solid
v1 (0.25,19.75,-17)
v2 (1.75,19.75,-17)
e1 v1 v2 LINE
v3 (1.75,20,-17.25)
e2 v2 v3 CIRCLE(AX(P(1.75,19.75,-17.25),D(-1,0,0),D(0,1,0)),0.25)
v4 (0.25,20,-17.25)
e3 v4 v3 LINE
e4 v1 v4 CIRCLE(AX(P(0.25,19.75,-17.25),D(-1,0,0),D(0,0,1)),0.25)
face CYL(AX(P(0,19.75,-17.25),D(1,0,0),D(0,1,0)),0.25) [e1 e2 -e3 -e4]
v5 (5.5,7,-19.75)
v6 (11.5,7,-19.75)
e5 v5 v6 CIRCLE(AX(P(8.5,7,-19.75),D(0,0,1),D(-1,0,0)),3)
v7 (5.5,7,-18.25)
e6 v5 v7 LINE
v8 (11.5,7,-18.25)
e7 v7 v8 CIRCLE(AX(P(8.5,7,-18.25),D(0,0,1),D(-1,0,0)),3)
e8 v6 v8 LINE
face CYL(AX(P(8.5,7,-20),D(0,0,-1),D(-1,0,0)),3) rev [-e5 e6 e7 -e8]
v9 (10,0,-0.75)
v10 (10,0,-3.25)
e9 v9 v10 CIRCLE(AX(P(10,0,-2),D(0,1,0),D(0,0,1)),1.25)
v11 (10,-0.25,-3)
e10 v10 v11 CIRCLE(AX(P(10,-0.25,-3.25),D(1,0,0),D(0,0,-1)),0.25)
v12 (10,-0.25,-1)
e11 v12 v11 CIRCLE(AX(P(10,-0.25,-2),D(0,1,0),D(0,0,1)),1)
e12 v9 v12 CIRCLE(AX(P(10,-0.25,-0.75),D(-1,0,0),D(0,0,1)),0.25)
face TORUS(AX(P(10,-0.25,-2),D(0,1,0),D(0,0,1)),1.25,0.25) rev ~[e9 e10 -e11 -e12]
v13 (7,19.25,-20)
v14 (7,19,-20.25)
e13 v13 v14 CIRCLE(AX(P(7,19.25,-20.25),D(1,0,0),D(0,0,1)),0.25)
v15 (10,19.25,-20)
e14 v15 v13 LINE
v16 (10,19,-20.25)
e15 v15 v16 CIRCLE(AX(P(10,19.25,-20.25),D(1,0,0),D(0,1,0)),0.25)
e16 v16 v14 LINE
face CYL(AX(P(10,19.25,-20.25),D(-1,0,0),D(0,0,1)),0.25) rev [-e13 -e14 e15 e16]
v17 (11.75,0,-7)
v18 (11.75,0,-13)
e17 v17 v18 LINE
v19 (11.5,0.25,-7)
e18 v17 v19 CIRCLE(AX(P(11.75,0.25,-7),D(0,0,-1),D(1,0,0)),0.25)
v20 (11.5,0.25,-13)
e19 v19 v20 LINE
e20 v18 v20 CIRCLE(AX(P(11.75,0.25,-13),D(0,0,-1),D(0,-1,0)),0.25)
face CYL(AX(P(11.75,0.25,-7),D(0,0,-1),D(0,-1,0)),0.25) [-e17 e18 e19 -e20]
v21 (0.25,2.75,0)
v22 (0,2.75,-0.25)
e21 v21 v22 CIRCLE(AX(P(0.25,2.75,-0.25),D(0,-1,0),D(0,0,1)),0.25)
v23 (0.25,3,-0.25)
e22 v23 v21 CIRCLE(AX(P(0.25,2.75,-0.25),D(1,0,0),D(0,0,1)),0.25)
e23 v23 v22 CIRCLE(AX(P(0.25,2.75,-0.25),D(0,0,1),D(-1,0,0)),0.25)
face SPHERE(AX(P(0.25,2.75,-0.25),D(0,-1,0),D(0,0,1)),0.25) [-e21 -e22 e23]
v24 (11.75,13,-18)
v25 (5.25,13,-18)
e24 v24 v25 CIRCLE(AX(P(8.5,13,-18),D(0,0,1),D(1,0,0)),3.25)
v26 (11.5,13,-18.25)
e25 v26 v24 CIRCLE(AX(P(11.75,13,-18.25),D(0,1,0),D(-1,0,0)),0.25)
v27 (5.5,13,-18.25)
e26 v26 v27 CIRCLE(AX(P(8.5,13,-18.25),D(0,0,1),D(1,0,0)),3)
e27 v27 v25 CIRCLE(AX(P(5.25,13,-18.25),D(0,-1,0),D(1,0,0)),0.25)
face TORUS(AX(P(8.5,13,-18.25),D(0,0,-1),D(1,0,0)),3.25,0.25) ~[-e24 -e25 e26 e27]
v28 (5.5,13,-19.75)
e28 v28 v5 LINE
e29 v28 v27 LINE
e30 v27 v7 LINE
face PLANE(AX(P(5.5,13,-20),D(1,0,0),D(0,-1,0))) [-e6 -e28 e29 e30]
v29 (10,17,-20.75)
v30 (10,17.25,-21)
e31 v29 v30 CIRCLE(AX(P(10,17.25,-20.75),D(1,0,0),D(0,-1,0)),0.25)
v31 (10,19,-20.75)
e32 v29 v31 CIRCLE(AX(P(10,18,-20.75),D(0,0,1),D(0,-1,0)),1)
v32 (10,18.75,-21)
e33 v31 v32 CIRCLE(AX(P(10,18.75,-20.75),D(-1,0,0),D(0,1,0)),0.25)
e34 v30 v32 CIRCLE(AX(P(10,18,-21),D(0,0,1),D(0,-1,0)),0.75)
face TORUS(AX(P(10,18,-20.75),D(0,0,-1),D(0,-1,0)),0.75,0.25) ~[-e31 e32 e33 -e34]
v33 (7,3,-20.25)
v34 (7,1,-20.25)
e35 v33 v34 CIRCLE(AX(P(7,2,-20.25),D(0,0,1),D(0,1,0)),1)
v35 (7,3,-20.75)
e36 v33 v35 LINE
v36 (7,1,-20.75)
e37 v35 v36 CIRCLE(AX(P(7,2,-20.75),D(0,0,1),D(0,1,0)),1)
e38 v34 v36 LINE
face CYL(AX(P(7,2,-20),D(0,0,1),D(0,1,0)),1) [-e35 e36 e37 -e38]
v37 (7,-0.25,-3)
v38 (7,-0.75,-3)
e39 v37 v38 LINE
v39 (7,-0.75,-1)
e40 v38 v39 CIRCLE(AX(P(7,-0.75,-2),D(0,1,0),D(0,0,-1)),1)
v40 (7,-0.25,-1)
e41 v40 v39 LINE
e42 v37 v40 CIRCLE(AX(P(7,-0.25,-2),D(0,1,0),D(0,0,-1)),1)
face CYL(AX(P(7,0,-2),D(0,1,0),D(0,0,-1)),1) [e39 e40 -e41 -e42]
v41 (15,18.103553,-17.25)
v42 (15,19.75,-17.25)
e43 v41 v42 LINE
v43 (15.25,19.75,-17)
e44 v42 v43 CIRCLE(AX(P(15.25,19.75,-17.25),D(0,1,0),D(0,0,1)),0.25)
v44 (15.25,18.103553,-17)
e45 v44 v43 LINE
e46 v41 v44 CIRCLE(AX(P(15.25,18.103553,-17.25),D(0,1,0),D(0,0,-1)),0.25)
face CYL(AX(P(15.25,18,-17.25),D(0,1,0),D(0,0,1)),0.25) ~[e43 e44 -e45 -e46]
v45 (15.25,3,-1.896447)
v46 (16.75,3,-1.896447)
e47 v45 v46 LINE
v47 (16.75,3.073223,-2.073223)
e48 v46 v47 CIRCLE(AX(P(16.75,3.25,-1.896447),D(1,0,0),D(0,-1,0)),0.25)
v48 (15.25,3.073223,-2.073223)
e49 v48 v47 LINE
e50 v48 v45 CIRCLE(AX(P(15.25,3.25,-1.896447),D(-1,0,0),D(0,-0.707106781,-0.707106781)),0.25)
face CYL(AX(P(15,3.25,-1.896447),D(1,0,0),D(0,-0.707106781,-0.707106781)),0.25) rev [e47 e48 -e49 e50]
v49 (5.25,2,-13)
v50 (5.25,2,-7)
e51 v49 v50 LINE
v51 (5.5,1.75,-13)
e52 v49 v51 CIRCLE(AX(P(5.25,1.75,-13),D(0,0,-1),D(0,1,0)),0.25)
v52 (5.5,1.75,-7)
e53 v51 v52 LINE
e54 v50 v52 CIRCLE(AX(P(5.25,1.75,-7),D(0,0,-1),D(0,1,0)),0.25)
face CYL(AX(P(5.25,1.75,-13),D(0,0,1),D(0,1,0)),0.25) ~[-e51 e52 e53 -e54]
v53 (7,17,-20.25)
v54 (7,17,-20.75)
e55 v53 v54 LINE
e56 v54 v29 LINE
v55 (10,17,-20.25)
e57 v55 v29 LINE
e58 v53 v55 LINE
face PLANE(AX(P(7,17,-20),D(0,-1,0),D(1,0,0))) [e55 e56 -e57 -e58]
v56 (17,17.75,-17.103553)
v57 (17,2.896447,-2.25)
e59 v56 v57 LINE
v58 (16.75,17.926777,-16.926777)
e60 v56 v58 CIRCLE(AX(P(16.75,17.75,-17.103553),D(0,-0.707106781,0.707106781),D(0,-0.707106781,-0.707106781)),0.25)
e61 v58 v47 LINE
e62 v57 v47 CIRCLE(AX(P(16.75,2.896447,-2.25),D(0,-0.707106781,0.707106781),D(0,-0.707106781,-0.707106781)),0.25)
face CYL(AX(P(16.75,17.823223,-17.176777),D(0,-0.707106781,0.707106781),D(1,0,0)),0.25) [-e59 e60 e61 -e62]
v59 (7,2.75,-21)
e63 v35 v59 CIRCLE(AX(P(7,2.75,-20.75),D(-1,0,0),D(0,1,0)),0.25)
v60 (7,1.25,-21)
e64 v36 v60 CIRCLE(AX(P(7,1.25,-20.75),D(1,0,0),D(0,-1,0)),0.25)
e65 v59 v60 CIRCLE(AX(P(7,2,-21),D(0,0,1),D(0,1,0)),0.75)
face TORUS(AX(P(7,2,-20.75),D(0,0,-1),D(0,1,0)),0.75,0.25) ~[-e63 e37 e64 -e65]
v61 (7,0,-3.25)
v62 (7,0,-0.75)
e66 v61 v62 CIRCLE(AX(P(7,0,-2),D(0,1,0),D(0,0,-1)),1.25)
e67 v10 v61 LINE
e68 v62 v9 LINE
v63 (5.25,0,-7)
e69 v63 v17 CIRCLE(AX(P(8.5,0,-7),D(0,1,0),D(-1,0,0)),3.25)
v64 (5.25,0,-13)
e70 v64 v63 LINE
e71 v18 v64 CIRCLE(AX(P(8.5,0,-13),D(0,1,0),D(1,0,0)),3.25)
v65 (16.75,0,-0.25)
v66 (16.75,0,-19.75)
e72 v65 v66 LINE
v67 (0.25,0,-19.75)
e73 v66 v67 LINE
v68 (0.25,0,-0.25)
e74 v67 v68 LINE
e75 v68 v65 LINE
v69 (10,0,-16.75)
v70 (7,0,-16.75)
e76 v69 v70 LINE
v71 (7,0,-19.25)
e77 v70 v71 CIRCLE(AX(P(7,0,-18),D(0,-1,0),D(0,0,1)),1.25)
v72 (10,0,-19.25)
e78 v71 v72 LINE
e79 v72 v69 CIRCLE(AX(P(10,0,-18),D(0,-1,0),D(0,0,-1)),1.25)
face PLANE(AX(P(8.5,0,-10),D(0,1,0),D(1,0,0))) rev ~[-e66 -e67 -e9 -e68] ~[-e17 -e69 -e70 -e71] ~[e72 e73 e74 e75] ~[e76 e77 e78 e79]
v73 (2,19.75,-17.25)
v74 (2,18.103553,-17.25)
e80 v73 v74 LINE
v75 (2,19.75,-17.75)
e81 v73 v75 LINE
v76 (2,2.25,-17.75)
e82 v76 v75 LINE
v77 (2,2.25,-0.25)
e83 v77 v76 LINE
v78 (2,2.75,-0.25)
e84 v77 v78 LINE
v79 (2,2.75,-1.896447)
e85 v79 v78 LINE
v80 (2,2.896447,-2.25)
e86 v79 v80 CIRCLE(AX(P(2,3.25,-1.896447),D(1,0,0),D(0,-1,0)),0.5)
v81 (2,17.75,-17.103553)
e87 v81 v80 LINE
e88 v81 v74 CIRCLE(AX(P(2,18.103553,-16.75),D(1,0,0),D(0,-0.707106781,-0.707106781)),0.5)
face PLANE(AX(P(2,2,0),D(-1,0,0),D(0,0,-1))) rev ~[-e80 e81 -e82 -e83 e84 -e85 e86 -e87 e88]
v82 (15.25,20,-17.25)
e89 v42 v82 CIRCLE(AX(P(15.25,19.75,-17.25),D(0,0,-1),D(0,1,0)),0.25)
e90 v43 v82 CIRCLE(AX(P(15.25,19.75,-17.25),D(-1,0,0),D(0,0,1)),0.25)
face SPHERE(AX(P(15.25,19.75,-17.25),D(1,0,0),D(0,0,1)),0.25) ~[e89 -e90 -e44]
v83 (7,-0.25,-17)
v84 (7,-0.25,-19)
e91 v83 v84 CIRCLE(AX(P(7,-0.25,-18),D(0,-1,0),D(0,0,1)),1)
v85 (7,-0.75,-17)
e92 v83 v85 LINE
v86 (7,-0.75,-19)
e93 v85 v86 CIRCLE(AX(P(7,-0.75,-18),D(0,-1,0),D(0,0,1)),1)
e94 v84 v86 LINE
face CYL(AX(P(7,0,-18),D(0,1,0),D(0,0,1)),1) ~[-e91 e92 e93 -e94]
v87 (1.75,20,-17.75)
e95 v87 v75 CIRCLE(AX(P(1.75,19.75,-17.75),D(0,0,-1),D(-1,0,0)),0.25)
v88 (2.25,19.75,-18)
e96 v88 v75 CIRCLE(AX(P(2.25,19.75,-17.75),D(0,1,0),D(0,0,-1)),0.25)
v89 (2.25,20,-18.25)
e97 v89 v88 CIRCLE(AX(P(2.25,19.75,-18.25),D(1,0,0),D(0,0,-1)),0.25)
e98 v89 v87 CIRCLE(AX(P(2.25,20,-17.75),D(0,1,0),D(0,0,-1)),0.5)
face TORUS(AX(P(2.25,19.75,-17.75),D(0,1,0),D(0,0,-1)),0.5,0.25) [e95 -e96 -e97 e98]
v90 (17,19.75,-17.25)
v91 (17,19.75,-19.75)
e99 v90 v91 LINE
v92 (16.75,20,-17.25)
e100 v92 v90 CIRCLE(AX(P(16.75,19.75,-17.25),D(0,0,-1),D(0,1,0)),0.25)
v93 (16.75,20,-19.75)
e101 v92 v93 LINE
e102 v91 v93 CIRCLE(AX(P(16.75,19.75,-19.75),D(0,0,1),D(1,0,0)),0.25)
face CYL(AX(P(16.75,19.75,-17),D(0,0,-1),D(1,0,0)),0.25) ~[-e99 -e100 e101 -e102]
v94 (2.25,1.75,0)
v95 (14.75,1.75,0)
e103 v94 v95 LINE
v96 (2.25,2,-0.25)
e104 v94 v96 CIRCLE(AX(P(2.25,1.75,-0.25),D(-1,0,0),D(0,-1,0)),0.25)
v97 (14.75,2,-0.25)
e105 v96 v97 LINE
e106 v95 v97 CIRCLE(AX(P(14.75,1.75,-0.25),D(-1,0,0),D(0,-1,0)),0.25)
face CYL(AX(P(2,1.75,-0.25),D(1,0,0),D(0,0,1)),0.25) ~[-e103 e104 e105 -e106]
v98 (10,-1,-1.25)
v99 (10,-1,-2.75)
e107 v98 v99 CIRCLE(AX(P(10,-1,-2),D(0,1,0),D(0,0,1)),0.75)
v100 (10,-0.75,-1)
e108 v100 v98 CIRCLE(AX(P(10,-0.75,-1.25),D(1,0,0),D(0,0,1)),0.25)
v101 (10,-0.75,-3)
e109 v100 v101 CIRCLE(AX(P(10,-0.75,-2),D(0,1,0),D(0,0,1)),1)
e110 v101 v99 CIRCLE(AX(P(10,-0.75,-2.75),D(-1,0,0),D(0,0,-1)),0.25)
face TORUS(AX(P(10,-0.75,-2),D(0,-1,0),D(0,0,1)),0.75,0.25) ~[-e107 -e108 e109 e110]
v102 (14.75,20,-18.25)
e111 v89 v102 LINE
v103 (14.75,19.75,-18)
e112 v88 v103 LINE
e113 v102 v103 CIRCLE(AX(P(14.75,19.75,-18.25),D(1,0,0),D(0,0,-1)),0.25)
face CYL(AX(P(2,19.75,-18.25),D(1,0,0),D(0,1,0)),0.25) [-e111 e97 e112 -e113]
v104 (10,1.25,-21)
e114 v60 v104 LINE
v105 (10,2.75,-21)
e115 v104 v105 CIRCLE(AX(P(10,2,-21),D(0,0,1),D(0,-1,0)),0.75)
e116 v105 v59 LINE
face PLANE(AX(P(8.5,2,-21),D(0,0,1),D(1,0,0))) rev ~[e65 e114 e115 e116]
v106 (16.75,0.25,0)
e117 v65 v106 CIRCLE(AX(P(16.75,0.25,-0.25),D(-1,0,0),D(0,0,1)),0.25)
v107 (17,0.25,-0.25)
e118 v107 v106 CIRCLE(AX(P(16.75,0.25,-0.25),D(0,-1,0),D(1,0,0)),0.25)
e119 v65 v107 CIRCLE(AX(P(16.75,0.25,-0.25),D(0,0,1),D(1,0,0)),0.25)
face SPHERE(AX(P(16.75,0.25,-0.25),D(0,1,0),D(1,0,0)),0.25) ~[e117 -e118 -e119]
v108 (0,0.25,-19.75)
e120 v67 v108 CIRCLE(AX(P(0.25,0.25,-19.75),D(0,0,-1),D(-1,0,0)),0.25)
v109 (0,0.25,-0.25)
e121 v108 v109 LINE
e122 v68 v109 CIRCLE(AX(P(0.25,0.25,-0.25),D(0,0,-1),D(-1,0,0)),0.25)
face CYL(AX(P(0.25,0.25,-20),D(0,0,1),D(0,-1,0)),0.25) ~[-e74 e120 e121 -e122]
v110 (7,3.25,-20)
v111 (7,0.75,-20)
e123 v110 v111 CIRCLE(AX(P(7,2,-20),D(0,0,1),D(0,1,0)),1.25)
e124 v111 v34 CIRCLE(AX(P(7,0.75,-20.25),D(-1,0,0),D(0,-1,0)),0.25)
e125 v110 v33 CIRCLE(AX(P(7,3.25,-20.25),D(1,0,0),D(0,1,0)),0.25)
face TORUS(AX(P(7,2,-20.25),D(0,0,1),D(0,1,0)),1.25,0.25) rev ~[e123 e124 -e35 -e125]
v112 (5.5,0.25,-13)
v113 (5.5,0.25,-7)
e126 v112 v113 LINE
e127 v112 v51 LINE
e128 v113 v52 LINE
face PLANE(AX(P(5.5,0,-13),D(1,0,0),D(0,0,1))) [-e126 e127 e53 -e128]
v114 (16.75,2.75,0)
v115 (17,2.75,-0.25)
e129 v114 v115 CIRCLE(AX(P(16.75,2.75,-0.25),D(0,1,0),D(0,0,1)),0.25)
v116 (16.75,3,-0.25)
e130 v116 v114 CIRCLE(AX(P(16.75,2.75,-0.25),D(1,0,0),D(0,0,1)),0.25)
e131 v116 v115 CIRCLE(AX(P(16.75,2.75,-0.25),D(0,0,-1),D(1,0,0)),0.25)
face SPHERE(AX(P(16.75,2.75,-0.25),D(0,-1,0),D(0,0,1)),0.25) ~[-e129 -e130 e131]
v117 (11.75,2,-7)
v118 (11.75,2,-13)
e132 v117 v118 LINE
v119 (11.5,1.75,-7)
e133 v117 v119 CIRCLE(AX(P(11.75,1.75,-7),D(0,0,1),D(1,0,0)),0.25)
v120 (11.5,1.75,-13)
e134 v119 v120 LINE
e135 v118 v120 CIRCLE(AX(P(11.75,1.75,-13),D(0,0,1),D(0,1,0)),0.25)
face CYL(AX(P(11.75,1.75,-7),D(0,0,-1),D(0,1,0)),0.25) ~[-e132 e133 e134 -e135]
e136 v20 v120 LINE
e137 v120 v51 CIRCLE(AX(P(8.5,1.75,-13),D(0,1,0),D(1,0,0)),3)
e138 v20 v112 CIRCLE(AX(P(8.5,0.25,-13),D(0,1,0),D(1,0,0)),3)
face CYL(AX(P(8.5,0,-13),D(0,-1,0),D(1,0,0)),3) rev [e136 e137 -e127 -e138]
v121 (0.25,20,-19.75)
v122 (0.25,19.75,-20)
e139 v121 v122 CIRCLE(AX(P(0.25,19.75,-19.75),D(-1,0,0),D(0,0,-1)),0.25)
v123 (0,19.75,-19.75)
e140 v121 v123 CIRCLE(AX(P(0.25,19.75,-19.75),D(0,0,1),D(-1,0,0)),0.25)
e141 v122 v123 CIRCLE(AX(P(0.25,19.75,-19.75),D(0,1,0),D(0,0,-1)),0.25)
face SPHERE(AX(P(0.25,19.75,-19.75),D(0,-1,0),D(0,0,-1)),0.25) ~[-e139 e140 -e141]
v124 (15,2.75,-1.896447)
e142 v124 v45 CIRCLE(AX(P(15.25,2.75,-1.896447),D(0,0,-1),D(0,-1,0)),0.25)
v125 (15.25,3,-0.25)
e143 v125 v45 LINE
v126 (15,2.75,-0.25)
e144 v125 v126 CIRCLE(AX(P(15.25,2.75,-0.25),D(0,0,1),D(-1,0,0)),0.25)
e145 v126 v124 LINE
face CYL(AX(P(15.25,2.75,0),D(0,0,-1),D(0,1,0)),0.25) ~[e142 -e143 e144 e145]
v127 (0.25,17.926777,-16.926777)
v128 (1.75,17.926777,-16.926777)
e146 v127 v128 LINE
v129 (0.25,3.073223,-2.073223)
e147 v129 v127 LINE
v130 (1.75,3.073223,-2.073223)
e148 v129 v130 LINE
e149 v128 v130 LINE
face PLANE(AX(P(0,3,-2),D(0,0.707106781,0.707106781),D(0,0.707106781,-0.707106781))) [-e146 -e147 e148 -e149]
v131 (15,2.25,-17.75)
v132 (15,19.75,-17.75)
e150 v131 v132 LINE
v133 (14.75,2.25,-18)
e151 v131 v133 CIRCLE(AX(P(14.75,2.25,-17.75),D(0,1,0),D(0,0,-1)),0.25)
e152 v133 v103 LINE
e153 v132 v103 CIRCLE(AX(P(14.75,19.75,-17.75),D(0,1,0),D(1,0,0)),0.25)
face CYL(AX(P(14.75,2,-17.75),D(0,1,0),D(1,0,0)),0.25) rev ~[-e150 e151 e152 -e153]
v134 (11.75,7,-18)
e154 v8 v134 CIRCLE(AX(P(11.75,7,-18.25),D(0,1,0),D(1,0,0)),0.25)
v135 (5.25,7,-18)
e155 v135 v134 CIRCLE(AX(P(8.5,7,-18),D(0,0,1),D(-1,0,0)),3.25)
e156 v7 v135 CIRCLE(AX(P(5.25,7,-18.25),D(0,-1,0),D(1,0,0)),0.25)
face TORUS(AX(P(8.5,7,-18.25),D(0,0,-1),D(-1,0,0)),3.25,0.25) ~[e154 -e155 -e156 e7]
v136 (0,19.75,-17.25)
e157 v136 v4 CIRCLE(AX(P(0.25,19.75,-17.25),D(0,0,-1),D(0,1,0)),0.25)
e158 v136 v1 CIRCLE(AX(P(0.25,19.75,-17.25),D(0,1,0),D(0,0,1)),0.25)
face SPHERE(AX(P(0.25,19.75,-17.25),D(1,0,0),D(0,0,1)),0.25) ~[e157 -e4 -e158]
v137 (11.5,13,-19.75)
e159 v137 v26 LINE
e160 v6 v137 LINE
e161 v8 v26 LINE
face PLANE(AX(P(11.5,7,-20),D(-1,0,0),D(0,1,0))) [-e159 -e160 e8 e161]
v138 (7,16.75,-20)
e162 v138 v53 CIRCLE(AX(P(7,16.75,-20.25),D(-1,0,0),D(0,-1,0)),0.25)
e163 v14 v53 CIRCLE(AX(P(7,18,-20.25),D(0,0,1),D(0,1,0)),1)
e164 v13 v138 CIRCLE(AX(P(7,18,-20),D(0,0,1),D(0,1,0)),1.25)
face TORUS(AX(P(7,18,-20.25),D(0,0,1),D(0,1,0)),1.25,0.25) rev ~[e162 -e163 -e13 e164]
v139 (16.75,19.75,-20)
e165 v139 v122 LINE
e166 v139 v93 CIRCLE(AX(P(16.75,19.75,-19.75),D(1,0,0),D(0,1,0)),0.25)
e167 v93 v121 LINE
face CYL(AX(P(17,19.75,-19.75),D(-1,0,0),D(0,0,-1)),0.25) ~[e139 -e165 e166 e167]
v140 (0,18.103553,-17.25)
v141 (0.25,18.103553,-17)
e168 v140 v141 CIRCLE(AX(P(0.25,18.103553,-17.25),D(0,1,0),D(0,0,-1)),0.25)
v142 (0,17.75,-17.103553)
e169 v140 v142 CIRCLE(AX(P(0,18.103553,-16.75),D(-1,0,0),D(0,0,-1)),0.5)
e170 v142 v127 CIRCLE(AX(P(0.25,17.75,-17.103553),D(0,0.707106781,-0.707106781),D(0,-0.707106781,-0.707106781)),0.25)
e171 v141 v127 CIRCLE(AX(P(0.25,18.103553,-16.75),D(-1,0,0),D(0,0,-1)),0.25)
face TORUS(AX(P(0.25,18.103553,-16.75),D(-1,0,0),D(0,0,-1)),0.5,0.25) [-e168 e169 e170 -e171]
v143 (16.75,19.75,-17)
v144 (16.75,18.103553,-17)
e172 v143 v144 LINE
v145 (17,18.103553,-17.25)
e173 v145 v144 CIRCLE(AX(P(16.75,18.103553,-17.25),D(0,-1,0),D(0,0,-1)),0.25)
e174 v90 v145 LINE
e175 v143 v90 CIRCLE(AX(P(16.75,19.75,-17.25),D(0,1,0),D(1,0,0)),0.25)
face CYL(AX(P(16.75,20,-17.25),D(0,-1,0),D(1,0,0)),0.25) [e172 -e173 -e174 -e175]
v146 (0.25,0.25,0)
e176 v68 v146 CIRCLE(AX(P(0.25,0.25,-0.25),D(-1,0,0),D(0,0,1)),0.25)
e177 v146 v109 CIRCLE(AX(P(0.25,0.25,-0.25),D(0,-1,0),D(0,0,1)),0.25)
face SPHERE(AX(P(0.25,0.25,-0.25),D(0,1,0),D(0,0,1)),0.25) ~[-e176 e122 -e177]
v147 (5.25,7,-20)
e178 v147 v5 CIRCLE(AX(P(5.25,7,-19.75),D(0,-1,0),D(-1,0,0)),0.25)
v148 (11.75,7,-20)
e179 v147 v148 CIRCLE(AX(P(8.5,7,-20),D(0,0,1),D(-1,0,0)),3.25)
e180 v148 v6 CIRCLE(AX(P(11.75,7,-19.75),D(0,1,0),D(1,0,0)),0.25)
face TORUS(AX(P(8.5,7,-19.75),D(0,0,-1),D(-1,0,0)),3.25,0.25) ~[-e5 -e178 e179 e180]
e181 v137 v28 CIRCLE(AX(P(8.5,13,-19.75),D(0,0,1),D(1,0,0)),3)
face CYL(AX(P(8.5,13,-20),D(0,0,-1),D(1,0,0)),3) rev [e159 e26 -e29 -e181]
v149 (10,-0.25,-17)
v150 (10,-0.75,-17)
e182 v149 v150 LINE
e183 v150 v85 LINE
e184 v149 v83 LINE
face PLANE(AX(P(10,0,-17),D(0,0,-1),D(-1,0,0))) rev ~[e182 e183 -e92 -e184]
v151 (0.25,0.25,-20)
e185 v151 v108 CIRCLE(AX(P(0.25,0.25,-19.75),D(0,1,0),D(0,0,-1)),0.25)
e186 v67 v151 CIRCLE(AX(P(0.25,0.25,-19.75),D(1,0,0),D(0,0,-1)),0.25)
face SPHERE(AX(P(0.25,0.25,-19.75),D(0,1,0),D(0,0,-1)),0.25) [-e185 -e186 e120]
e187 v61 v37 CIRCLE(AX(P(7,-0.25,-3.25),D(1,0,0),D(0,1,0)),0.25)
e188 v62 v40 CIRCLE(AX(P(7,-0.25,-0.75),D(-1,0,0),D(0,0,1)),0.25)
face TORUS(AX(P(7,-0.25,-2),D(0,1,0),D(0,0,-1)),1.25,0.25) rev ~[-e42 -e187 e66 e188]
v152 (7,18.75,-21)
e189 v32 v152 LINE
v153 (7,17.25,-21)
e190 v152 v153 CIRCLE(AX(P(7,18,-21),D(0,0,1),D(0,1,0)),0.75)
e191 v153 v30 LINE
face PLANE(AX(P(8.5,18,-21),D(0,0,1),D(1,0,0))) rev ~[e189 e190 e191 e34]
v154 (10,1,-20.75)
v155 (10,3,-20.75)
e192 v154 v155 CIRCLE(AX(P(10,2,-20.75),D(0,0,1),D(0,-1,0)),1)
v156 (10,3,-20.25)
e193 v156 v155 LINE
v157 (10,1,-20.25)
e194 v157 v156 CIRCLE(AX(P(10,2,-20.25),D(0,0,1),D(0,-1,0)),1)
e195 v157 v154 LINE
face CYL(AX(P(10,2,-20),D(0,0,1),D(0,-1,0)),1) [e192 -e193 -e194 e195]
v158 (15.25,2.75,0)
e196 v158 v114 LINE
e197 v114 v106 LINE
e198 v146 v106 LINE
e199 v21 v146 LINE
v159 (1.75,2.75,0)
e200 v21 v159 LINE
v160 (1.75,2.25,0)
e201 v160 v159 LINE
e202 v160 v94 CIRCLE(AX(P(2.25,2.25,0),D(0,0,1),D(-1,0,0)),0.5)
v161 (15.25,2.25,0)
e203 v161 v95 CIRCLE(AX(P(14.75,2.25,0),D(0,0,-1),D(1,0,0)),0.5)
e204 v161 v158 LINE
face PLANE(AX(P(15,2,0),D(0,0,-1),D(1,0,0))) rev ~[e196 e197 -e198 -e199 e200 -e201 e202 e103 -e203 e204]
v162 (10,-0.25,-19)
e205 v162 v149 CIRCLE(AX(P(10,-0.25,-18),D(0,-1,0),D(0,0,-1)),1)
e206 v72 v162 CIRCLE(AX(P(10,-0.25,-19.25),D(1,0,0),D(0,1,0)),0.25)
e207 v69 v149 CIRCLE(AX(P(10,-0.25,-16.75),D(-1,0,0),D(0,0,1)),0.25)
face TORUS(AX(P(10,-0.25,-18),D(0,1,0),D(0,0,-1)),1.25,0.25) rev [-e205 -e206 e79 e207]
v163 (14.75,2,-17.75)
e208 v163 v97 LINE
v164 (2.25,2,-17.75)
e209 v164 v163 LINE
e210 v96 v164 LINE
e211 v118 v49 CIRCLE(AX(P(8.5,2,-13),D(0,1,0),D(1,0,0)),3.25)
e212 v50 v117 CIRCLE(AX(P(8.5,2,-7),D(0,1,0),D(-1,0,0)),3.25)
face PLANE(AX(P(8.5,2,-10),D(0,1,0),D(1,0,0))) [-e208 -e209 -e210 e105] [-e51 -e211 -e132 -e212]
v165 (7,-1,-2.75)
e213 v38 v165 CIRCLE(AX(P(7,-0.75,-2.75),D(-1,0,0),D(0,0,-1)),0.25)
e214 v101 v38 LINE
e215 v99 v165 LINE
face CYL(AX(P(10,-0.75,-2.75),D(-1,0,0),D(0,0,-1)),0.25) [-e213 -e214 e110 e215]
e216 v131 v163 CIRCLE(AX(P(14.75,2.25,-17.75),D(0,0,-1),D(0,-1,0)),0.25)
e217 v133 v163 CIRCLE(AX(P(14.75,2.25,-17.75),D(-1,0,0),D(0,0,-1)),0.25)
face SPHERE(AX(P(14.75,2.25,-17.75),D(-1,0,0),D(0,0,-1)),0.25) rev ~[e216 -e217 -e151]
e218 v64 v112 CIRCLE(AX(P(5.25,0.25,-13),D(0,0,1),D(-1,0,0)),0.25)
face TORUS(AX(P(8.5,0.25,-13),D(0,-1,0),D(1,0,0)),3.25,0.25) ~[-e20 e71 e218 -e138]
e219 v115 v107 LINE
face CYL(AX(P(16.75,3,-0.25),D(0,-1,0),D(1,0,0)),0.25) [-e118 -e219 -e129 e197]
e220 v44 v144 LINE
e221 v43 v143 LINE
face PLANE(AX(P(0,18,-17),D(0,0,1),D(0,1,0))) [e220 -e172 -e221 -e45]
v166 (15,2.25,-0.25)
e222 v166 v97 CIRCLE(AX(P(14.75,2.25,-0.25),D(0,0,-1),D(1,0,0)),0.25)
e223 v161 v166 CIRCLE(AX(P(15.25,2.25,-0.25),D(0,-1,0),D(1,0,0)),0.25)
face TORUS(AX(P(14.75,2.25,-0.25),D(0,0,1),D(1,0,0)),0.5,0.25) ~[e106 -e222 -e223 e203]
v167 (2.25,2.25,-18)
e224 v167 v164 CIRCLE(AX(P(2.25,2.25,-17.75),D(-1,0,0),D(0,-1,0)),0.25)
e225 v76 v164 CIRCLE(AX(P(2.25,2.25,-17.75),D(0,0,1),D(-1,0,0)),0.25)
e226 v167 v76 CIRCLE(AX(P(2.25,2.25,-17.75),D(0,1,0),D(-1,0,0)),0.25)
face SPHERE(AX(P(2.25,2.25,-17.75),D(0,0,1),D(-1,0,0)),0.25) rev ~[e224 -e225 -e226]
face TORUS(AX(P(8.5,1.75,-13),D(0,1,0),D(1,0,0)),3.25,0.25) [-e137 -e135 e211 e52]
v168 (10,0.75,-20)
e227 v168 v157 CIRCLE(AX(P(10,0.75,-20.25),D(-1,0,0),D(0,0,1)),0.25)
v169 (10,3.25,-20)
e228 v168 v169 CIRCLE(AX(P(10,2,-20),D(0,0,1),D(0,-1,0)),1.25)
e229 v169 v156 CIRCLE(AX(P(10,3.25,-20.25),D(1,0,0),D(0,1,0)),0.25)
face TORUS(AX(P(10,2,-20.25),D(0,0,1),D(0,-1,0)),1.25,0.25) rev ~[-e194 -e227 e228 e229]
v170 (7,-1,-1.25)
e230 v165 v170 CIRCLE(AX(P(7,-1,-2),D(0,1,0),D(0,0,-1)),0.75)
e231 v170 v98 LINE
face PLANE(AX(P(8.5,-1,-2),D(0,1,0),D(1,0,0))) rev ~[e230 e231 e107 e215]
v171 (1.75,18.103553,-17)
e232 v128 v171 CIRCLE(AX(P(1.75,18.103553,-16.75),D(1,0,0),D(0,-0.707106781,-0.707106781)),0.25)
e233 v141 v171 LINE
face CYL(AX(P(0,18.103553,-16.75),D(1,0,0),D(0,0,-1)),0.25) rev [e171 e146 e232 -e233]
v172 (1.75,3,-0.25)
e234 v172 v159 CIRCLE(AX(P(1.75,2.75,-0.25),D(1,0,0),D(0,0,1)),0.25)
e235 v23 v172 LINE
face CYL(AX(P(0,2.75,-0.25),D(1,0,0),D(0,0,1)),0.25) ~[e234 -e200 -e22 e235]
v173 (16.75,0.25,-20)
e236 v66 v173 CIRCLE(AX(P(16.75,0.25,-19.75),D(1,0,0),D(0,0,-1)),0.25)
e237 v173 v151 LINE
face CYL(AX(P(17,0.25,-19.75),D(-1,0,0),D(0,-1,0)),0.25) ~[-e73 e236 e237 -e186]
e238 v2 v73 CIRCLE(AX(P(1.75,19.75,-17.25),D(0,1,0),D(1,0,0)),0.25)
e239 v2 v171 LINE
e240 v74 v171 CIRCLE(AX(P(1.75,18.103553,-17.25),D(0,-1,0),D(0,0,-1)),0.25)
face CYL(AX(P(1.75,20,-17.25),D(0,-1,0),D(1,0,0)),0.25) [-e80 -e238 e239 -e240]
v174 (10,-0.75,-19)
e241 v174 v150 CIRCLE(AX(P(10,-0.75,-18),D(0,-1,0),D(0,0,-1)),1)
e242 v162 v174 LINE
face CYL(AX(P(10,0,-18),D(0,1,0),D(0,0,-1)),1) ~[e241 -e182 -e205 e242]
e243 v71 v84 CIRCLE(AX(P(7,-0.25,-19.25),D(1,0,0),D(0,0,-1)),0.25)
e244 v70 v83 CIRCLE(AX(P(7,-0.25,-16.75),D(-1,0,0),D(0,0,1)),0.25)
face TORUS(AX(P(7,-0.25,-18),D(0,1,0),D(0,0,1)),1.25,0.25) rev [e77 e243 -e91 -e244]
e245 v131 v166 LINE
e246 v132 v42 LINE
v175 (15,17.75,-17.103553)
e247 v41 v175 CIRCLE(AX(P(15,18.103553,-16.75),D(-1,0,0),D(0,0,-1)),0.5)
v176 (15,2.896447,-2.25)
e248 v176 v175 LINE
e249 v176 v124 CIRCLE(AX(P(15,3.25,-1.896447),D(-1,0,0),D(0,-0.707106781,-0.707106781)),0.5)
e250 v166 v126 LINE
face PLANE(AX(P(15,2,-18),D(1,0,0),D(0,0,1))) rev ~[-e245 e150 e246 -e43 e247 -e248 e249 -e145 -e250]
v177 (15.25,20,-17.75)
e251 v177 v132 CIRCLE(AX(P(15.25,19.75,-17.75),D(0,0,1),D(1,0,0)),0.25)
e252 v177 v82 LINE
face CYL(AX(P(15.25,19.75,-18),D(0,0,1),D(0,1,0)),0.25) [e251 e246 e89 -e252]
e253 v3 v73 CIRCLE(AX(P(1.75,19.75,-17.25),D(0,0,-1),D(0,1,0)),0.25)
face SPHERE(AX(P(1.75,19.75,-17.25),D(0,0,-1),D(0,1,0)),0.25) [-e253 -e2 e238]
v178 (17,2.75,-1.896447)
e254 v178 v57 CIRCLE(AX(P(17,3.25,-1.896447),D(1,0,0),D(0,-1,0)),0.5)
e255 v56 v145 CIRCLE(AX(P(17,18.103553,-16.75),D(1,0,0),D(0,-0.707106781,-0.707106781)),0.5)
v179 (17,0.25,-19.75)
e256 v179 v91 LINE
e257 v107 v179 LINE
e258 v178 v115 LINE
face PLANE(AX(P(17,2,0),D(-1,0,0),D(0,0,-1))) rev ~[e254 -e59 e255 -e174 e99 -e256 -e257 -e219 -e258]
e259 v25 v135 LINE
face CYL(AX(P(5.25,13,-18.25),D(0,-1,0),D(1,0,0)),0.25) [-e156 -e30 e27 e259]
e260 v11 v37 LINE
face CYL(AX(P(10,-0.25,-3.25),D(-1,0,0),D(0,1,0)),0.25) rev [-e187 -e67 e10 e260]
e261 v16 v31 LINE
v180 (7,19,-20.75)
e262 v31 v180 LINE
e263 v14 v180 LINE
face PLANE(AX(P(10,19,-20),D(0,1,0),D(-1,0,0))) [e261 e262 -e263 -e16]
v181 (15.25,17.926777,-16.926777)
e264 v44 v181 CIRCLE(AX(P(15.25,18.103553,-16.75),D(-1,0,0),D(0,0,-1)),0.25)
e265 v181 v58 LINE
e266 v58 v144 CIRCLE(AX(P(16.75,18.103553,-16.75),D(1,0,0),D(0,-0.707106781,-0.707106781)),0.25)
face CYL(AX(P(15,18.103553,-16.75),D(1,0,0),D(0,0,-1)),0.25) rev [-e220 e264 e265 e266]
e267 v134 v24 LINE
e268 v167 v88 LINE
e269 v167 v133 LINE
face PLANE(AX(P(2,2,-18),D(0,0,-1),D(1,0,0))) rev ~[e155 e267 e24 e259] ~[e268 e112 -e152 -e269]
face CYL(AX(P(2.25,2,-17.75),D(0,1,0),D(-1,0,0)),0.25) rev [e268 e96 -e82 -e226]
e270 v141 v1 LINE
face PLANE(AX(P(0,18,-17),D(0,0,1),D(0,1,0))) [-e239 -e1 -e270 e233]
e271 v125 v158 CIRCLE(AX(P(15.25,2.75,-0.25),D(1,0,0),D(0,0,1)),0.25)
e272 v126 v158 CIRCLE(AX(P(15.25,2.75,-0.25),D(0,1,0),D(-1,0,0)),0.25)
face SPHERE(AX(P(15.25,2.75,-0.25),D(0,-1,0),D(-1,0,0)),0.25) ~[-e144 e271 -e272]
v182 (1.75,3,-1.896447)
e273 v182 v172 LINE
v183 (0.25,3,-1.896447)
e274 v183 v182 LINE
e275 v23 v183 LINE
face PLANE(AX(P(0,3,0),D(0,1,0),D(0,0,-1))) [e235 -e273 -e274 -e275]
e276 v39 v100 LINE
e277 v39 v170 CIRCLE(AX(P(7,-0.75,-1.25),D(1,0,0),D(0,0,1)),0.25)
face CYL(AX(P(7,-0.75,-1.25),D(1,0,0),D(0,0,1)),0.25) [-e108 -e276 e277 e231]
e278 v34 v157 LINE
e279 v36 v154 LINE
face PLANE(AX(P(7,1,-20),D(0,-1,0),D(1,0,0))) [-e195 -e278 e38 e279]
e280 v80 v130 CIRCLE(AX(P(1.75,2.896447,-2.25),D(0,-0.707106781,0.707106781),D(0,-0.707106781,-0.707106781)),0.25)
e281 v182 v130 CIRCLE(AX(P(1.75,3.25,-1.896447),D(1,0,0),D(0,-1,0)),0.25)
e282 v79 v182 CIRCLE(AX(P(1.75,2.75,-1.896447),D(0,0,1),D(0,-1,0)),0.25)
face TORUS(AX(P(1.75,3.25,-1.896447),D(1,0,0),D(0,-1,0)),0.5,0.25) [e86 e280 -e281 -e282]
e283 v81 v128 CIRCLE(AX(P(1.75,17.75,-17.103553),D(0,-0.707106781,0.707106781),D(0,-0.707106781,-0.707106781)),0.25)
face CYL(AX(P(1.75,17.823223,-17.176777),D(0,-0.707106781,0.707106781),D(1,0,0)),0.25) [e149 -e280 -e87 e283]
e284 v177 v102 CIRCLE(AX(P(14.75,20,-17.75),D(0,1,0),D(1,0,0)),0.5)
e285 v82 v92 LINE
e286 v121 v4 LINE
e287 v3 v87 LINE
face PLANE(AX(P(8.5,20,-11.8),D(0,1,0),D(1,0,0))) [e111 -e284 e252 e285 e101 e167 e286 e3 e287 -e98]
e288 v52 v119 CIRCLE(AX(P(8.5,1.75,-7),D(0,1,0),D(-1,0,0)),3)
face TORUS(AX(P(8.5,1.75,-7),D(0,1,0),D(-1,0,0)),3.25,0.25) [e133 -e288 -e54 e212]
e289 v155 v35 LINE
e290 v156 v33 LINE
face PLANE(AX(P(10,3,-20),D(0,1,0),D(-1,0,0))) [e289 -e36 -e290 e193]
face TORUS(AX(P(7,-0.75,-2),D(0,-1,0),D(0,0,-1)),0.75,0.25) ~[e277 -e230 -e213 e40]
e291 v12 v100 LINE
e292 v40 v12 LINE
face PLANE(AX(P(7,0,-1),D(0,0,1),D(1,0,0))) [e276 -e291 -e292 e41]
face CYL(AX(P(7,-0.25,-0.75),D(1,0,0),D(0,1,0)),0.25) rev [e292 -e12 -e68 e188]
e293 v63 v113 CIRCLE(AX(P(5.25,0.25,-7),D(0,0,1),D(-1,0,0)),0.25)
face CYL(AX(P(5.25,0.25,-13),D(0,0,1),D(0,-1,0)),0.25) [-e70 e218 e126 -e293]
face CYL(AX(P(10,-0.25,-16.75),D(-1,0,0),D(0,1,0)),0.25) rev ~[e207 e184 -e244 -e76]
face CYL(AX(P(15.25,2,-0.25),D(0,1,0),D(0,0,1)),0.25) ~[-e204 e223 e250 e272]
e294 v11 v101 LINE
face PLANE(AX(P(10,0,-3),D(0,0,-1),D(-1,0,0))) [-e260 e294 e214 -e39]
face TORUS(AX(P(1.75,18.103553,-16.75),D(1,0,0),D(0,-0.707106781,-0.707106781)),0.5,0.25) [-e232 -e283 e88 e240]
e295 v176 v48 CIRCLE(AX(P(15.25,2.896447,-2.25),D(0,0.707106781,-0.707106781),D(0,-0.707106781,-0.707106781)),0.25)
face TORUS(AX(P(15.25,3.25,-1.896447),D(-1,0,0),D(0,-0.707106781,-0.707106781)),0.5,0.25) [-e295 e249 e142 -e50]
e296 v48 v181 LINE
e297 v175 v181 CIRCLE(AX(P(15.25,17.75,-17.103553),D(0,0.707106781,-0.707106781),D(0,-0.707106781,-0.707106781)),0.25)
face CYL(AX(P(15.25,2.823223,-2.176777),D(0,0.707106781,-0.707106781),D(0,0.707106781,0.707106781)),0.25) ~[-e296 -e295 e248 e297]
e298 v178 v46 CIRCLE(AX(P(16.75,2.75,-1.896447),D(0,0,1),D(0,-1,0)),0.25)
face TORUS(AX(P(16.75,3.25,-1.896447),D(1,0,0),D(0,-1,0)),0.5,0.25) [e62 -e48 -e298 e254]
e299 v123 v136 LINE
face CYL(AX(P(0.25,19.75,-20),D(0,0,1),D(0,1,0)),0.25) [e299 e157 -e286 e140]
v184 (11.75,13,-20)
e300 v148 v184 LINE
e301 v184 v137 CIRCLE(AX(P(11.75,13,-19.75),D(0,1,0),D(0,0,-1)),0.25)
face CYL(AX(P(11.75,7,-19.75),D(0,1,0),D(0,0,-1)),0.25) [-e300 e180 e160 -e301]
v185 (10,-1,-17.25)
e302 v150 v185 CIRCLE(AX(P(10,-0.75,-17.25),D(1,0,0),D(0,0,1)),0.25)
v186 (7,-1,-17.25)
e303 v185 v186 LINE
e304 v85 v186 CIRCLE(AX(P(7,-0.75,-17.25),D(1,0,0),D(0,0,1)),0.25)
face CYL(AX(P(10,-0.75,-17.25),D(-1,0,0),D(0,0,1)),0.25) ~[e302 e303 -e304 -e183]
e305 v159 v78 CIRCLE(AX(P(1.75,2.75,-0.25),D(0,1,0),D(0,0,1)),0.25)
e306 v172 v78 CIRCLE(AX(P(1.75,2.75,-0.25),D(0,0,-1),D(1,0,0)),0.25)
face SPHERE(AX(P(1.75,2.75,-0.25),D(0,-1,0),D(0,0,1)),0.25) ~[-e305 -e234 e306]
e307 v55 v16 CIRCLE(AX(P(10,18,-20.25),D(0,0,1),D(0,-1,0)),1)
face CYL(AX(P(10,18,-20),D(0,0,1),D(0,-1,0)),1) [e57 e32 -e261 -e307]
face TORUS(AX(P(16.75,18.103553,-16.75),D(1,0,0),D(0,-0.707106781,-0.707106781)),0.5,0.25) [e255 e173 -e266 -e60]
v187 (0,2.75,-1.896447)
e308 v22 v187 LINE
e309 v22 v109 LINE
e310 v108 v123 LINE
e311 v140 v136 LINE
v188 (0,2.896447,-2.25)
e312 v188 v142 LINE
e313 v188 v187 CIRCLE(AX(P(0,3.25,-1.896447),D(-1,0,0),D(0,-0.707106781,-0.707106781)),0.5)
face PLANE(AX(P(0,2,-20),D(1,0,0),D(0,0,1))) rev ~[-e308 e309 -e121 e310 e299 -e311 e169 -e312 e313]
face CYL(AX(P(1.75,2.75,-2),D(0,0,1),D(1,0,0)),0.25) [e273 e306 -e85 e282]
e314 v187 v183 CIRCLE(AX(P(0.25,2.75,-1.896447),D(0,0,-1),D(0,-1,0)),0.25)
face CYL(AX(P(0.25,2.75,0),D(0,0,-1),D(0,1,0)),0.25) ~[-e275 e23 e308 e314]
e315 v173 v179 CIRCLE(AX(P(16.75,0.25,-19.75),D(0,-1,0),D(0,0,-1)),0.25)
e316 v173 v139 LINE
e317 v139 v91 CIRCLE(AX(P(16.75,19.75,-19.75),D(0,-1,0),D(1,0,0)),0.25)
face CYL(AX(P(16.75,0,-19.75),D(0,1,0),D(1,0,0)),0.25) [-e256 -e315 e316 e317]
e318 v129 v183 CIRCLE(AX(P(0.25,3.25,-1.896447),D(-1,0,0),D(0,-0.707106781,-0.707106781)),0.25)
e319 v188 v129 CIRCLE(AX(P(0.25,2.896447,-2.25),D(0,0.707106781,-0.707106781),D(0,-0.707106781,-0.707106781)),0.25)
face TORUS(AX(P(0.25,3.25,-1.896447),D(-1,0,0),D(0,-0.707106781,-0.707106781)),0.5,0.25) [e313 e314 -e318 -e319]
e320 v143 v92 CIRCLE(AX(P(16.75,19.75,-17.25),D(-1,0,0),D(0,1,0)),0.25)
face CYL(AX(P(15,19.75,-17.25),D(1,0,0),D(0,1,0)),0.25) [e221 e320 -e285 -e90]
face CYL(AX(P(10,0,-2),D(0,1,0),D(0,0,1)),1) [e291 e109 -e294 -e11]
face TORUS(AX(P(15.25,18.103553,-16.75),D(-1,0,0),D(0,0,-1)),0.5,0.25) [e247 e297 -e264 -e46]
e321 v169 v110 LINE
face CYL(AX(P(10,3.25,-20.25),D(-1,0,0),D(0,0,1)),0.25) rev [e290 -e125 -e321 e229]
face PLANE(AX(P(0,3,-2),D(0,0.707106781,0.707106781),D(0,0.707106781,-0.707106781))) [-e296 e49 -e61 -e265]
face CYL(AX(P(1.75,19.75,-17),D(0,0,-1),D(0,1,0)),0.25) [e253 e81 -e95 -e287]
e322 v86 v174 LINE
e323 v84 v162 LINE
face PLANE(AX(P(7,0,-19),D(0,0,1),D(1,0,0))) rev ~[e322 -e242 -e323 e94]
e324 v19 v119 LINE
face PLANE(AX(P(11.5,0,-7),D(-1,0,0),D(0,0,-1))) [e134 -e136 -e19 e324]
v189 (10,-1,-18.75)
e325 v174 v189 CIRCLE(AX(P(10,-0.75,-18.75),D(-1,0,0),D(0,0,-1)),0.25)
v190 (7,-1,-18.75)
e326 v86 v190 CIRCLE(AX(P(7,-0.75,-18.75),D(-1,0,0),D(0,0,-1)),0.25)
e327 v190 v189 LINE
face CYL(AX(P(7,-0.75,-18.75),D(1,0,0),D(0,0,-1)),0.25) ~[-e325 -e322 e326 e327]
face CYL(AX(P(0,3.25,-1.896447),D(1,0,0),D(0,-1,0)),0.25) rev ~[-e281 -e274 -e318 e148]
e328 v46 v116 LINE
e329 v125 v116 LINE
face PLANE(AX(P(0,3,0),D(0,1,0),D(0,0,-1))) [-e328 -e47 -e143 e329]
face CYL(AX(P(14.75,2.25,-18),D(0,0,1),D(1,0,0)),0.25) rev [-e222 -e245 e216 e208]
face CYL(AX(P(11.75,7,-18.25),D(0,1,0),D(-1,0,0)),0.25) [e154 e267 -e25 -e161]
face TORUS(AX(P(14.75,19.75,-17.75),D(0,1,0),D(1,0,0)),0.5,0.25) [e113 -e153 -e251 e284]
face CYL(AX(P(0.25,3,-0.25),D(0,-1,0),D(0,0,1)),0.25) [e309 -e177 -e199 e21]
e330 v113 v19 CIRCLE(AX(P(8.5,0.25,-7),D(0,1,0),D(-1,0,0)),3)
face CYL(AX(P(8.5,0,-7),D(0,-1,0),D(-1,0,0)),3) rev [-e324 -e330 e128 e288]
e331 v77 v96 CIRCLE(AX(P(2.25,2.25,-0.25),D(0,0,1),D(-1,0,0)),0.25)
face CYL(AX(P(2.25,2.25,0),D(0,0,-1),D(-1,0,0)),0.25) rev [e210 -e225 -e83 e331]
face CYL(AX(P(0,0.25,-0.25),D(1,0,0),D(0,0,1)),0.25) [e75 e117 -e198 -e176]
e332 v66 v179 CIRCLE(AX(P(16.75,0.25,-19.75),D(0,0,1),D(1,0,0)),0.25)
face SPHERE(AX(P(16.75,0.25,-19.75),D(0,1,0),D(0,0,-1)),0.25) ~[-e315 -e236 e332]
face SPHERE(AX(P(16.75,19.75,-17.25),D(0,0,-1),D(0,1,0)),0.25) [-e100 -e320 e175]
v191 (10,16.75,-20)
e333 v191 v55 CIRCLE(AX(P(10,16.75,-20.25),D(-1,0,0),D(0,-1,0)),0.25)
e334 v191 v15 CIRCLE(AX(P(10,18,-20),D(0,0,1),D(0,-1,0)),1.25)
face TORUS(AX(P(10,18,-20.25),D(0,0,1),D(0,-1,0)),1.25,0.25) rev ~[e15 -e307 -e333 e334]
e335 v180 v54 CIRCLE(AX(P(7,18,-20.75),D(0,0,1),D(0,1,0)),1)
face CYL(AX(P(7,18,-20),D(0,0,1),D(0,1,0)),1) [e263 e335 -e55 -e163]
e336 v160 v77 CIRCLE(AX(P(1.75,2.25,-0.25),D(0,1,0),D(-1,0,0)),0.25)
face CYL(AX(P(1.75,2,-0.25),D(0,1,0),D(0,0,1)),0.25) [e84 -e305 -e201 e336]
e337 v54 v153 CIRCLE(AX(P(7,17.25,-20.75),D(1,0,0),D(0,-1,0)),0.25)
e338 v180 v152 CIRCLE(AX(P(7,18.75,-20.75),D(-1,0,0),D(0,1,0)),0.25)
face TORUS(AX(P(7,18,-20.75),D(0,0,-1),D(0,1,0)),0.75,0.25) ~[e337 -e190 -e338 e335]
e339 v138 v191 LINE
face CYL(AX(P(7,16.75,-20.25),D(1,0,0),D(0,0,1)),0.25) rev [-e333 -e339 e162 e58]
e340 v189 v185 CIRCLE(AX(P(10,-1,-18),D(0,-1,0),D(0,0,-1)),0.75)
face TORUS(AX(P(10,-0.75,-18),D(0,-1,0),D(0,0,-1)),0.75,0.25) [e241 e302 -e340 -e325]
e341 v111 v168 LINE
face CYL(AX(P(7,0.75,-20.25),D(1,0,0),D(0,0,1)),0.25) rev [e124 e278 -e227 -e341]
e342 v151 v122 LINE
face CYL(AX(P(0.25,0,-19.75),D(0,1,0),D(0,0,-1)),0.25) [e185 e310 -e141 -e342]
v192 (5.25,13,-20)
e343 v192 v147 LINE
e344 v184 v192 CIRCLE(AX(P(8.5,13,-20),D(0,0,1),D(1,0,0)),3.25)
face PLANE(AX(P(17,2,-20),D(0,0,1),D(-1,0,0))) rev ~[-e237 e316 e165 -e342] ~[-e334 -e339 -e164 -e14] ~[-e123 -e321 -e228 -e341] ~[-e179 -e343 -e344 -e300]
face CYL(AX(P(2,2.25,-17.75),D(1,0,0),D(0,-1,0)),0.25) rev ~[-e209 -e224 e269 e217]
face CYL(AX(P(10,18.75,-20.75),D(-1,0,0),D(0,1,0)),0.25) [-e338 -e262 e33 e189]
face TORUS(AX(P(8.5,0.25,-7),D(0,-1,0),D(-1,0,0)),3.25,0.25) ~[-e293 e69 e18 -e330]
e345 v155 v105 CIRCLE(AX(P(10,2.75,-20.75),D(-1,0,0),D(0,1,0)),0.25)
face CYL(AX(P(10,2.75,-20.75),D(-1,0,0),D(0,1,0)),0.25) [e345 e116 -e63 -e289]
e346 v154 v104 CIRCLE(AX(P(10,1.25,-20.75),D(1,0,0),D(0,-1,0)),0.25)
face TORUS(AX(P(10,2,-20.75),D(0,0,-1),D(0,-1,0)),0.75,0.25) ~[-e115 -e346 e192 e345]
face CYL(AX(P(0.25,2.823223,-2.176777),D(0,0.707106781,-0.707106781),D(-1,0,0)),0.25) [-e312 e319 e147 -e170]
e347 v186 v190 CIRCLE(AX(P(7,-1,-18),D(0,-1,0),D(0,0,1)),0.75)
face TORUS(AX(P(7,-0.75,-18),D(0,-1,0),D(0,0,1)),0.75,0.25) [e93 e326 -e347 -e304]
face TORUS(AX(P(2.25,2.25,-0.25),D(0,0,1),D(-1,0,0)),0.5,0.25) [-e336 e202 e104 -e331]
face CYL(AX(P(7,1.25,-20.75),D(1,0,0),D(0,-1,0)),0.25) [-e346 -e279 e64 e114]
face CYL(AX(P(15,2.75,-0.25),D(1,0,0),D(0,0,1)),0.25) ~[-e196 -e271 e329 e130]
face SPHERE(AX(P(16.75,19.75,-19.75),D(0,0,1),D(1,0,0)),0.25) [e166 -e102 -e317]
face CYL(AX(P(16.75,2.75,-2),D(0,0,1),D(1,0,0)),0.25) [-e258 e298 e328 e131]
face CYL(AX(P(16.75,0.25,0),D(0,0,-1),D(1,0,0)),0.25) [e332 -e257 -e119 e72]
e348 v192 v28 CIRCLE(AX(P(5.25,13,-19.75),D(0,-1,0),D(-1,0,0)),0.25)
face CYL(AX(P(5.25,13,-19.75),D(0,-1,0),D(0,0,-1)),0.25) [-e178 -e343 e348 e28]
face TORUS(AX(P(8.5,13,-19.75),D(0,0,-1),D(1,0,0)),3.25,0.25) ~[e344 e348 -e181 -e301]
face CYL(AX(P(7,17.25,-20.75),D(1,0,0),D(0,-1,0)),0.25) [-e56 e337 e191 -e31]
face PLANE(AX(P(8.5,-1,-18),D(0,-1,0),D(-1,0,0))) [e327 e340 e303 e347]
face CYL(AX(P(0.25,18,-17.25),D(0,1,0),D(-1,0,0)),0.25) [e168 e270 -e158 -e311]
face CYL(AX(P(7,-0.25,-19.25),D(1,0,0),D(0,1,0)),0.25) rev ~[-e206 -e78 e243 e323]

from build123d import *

# Parameters (mm, degrees)
BASE_DEPTH         = 2
SIDES_DEPTH        = 18
NUBS_BOTTOM_DEPTH  = 1
NUBS_REAR_DEPTH    = 1
SIDE_CUT_REACH     = 35.615
REAR_SLOT_DEPTH    = 34
COSMETIC_FILLETS_R = 0.25


with BuildPart() as part:
    # Base Sketch → Base (new body)
    with BuildSketch(Plane(origin=(0, 0, 0), x_dir=(1, 0, 0), z_dir=(0, 1, 0))):
        Polygon((0, 0), (2, 0), (15, 0), (17, 0), (17, 20), (0, 20), align=None)
        with BuildLine():
            Line((5.5, 13), (5.5, 7))
            ThreePointArc((5.5, 7), (8.5, 4), (11.5, 7))
            Line((11.5, 7), (11.5, 13))
            ThreePointArc((11.5, 13), (8.5, 16), (5.5, 13))
        make_face(mode=Mode.SUBTRACT)
    extrude(amount=BASE_DEPTH)

    # MainUprightSketch → Sides (add)
    with BuildSketch(Plane(origin=(0, 2, 0), x_dir=(1, 0, 0), z_dir=(0, 1, 0))):
        Polygon((17, 0), (17, 20), (0, 20), (0, 0), (2, 0), (2, 18), (15, 18), (15, 0), align=None)
    extrude(amount=SIDES_DEPTH)

    # NubsSketch → Nubs-Bottom (add)
    with BuildSketch(Plane(origin=(0, 0, 0), x_dir=(1, 0, 0), z_dir=(0, 1, 0))):
        with BuildLine():
            Line((7, 19), (10, 19))
            ThreePointArc((10, 19), (11, 18), (10, 17))
            Line((10, 17), (7, 17))
            ThreePointArc((7, 17), (6, 18), (7, 19))
        make_face()
        with BuildLine():
            Line((7, 1), (10, 1))
            ThreePointArc((10, 1), (11, 2), (10, 3))
            Line((10, 3), (7, 3))
            ThreePointArc((7, 3), (6, 2), (7, 1))
        make_face()
    extrude(amount=-NUBS_BOTTOM_DEPTH)

    # RearNubsSketch → Nubs-Rear (add)
    with BuildSketch(Plane.XY.offset(-20)):
        with BuildLine():
            Line((10, 3), (7, 3))
            ThreePointArc((7, 3), (6, 2), (7, 1))
            Line((7, 1), (10, 1))
            ThreePointArc((10, 1), (11, 2), (10, 3))
        make_face()
        with BuildLine():
            Line((10, 19), (7, 19))
            ThreePointArc((7, 19), (6, 18), (7, 17))
            Line((7, 17), (10, 17))
            ThreePointArc((10, 17), (11, 18), (10, 19))
        make_face()
    extrude(amount=-NUBS_REAR_DEPTH)

    # Cutaway Sketch → Side Cut (cut, up to next)
    with BuildSketch(Plane(origin=(0, 0, 0), x_dir=(0, 0, -1), z_dir=(1, 0, 0)), mode=Mode.PRIVATE) as side_cut_sk1:
        Polygon((0, 3), (2, 3), (17, 18), (17, 20), (0, 20), align=None)
    side_cut_tool1 = extrude(side_cut_sk1.sketch, amount=SIDE_CUT_REACH, mode=Mode.PRIVATE) & part.part
    add(side_cut_tool1.solids().sort_by_distance((0, 13.730878, -6.269122))[0], mode=Mode.SUBTRACT)
    add(side_cut_tool1.solids().sort_by_distance((0, 13.730878, -6.269122))[1], mode=Mode.SUBTRACT)

    # RearSlotSketch → Rear Slot (cut, through all)
    with BuildSketch(Plane.XY.offset(-20)):
        with BuildLine():
            Line((5.5, 13), (5.5, 7))
            ThreePointArc((5.5, 7), (8.5, 4), (11.5, 7))
            Line((11.5, 7), (11.5, 13))
            ThreePointArc((11.5, 13), (8.5, 16), (5.5, 13))
        make_face()
    extrude(amount=REAR_SLOT_DEPTH, mode=Mode.SUBTRACT)

    # Cosmetic Fillets
    cosmetic_fillets_edges = [part.edges().sort_by_distance(p)[0] for p in [
        (11, 2, -21),
        (8.5, 1, -21),
        (6, 2, -20),
        (8.5, 1, -20),
        (11, 2, -20),
        (8.5, 3, -20),
        (11, 18, -21),
        (8.5, 17, -21),
        (6, 18, -21),
        (8.5, 19, -21),
        (11, 18, -20),
        (8.5, 19, -20),
        (6, 18, -20),
        (8.5, 17, -20),
        (17, 20, -18.5),
        (2, 20, -17.5),
        (1, 20, -17),
        (15, 2.5, 0),
        (15, 10.5, -9.5),
        (15, 3, -1),
        (2, 2.5, 0),
        (0, 1.5, 0),
        (17, 1.5, 0),
        (1, 3, 0),
        (0, 3, -1),
        (16, 3, 0),
        (1, 3, -2),
        (0, 10.5, -9.5),
        (16, 3, -2),
        (16, 20, -17),
        (1, 18, -17),
        (0, 19, -17),
        (16, 18, -17),
        (2, 3, -1),
        (2, 10.5, -9.5),
        (2, 19, -17),
        (15, 19, -17),
        (17, 3, -1),
        (17, 10.5, -9.5),
        (17, 19, -17),
        (5.5, 10, -18),
        (8.5, 16, -18),
        (11.5, 10, -18),
        (8.5, 4, -18),
        (8.5, 4, -20),
        (11.5, 10, -20),
        (8.5, 16, -20),
        (5.5, 10, -20),
        (8.5, 0, -4),
        (11.5, 0, -10),
        (8.5, 0, -16),
        (5.5, 0, -10),
        (5.5, 2, -10),
        (0, 10, -20),
        (17, 10, -20),
        (8.5, 2, -4),
        (11.5, 2, -10),
        (8.5, 2, -16),
        (8.5, 2, 0),
        (2, 2, -9),
        (2, 11, -18),
        (8.5, 2, -18),
        (15, 11, -18),
        (15, 2, -9),
        (15, 20, -17.5),
        (8.5, 20, -20),
        (0, 20, -18.5),
        (8.5, 20, -18),
        (8.5, 0, -20),
        (17, 0, -10),
        (6, -1, -18),
        (8.5, -1, -19),
        (11, -1, -18),
        (8.5, 0, 0),
        (8.5, -1, -17),
        (6, 0, -18),
        (8.5, 0, -17),
        (11, 0, -18),
        (8.5, 0, -19),
        (11, -1, -2),
        (8.5, -1, -1),
        (6, -1, -2),
        (8.5, -1, -3),
        (11, 0, -2),
        (8.5, 0, -3),
        (0, 0, -10),
        (6, 0, -2),
        (8.5, 0, -1),
        (6, 2, -21),
        (8.5, 3, -21),
    ]]
    fillet(cosmetic_fillets_edges, radius=COSMETIC_FILLETS_R)


solid = part.part
